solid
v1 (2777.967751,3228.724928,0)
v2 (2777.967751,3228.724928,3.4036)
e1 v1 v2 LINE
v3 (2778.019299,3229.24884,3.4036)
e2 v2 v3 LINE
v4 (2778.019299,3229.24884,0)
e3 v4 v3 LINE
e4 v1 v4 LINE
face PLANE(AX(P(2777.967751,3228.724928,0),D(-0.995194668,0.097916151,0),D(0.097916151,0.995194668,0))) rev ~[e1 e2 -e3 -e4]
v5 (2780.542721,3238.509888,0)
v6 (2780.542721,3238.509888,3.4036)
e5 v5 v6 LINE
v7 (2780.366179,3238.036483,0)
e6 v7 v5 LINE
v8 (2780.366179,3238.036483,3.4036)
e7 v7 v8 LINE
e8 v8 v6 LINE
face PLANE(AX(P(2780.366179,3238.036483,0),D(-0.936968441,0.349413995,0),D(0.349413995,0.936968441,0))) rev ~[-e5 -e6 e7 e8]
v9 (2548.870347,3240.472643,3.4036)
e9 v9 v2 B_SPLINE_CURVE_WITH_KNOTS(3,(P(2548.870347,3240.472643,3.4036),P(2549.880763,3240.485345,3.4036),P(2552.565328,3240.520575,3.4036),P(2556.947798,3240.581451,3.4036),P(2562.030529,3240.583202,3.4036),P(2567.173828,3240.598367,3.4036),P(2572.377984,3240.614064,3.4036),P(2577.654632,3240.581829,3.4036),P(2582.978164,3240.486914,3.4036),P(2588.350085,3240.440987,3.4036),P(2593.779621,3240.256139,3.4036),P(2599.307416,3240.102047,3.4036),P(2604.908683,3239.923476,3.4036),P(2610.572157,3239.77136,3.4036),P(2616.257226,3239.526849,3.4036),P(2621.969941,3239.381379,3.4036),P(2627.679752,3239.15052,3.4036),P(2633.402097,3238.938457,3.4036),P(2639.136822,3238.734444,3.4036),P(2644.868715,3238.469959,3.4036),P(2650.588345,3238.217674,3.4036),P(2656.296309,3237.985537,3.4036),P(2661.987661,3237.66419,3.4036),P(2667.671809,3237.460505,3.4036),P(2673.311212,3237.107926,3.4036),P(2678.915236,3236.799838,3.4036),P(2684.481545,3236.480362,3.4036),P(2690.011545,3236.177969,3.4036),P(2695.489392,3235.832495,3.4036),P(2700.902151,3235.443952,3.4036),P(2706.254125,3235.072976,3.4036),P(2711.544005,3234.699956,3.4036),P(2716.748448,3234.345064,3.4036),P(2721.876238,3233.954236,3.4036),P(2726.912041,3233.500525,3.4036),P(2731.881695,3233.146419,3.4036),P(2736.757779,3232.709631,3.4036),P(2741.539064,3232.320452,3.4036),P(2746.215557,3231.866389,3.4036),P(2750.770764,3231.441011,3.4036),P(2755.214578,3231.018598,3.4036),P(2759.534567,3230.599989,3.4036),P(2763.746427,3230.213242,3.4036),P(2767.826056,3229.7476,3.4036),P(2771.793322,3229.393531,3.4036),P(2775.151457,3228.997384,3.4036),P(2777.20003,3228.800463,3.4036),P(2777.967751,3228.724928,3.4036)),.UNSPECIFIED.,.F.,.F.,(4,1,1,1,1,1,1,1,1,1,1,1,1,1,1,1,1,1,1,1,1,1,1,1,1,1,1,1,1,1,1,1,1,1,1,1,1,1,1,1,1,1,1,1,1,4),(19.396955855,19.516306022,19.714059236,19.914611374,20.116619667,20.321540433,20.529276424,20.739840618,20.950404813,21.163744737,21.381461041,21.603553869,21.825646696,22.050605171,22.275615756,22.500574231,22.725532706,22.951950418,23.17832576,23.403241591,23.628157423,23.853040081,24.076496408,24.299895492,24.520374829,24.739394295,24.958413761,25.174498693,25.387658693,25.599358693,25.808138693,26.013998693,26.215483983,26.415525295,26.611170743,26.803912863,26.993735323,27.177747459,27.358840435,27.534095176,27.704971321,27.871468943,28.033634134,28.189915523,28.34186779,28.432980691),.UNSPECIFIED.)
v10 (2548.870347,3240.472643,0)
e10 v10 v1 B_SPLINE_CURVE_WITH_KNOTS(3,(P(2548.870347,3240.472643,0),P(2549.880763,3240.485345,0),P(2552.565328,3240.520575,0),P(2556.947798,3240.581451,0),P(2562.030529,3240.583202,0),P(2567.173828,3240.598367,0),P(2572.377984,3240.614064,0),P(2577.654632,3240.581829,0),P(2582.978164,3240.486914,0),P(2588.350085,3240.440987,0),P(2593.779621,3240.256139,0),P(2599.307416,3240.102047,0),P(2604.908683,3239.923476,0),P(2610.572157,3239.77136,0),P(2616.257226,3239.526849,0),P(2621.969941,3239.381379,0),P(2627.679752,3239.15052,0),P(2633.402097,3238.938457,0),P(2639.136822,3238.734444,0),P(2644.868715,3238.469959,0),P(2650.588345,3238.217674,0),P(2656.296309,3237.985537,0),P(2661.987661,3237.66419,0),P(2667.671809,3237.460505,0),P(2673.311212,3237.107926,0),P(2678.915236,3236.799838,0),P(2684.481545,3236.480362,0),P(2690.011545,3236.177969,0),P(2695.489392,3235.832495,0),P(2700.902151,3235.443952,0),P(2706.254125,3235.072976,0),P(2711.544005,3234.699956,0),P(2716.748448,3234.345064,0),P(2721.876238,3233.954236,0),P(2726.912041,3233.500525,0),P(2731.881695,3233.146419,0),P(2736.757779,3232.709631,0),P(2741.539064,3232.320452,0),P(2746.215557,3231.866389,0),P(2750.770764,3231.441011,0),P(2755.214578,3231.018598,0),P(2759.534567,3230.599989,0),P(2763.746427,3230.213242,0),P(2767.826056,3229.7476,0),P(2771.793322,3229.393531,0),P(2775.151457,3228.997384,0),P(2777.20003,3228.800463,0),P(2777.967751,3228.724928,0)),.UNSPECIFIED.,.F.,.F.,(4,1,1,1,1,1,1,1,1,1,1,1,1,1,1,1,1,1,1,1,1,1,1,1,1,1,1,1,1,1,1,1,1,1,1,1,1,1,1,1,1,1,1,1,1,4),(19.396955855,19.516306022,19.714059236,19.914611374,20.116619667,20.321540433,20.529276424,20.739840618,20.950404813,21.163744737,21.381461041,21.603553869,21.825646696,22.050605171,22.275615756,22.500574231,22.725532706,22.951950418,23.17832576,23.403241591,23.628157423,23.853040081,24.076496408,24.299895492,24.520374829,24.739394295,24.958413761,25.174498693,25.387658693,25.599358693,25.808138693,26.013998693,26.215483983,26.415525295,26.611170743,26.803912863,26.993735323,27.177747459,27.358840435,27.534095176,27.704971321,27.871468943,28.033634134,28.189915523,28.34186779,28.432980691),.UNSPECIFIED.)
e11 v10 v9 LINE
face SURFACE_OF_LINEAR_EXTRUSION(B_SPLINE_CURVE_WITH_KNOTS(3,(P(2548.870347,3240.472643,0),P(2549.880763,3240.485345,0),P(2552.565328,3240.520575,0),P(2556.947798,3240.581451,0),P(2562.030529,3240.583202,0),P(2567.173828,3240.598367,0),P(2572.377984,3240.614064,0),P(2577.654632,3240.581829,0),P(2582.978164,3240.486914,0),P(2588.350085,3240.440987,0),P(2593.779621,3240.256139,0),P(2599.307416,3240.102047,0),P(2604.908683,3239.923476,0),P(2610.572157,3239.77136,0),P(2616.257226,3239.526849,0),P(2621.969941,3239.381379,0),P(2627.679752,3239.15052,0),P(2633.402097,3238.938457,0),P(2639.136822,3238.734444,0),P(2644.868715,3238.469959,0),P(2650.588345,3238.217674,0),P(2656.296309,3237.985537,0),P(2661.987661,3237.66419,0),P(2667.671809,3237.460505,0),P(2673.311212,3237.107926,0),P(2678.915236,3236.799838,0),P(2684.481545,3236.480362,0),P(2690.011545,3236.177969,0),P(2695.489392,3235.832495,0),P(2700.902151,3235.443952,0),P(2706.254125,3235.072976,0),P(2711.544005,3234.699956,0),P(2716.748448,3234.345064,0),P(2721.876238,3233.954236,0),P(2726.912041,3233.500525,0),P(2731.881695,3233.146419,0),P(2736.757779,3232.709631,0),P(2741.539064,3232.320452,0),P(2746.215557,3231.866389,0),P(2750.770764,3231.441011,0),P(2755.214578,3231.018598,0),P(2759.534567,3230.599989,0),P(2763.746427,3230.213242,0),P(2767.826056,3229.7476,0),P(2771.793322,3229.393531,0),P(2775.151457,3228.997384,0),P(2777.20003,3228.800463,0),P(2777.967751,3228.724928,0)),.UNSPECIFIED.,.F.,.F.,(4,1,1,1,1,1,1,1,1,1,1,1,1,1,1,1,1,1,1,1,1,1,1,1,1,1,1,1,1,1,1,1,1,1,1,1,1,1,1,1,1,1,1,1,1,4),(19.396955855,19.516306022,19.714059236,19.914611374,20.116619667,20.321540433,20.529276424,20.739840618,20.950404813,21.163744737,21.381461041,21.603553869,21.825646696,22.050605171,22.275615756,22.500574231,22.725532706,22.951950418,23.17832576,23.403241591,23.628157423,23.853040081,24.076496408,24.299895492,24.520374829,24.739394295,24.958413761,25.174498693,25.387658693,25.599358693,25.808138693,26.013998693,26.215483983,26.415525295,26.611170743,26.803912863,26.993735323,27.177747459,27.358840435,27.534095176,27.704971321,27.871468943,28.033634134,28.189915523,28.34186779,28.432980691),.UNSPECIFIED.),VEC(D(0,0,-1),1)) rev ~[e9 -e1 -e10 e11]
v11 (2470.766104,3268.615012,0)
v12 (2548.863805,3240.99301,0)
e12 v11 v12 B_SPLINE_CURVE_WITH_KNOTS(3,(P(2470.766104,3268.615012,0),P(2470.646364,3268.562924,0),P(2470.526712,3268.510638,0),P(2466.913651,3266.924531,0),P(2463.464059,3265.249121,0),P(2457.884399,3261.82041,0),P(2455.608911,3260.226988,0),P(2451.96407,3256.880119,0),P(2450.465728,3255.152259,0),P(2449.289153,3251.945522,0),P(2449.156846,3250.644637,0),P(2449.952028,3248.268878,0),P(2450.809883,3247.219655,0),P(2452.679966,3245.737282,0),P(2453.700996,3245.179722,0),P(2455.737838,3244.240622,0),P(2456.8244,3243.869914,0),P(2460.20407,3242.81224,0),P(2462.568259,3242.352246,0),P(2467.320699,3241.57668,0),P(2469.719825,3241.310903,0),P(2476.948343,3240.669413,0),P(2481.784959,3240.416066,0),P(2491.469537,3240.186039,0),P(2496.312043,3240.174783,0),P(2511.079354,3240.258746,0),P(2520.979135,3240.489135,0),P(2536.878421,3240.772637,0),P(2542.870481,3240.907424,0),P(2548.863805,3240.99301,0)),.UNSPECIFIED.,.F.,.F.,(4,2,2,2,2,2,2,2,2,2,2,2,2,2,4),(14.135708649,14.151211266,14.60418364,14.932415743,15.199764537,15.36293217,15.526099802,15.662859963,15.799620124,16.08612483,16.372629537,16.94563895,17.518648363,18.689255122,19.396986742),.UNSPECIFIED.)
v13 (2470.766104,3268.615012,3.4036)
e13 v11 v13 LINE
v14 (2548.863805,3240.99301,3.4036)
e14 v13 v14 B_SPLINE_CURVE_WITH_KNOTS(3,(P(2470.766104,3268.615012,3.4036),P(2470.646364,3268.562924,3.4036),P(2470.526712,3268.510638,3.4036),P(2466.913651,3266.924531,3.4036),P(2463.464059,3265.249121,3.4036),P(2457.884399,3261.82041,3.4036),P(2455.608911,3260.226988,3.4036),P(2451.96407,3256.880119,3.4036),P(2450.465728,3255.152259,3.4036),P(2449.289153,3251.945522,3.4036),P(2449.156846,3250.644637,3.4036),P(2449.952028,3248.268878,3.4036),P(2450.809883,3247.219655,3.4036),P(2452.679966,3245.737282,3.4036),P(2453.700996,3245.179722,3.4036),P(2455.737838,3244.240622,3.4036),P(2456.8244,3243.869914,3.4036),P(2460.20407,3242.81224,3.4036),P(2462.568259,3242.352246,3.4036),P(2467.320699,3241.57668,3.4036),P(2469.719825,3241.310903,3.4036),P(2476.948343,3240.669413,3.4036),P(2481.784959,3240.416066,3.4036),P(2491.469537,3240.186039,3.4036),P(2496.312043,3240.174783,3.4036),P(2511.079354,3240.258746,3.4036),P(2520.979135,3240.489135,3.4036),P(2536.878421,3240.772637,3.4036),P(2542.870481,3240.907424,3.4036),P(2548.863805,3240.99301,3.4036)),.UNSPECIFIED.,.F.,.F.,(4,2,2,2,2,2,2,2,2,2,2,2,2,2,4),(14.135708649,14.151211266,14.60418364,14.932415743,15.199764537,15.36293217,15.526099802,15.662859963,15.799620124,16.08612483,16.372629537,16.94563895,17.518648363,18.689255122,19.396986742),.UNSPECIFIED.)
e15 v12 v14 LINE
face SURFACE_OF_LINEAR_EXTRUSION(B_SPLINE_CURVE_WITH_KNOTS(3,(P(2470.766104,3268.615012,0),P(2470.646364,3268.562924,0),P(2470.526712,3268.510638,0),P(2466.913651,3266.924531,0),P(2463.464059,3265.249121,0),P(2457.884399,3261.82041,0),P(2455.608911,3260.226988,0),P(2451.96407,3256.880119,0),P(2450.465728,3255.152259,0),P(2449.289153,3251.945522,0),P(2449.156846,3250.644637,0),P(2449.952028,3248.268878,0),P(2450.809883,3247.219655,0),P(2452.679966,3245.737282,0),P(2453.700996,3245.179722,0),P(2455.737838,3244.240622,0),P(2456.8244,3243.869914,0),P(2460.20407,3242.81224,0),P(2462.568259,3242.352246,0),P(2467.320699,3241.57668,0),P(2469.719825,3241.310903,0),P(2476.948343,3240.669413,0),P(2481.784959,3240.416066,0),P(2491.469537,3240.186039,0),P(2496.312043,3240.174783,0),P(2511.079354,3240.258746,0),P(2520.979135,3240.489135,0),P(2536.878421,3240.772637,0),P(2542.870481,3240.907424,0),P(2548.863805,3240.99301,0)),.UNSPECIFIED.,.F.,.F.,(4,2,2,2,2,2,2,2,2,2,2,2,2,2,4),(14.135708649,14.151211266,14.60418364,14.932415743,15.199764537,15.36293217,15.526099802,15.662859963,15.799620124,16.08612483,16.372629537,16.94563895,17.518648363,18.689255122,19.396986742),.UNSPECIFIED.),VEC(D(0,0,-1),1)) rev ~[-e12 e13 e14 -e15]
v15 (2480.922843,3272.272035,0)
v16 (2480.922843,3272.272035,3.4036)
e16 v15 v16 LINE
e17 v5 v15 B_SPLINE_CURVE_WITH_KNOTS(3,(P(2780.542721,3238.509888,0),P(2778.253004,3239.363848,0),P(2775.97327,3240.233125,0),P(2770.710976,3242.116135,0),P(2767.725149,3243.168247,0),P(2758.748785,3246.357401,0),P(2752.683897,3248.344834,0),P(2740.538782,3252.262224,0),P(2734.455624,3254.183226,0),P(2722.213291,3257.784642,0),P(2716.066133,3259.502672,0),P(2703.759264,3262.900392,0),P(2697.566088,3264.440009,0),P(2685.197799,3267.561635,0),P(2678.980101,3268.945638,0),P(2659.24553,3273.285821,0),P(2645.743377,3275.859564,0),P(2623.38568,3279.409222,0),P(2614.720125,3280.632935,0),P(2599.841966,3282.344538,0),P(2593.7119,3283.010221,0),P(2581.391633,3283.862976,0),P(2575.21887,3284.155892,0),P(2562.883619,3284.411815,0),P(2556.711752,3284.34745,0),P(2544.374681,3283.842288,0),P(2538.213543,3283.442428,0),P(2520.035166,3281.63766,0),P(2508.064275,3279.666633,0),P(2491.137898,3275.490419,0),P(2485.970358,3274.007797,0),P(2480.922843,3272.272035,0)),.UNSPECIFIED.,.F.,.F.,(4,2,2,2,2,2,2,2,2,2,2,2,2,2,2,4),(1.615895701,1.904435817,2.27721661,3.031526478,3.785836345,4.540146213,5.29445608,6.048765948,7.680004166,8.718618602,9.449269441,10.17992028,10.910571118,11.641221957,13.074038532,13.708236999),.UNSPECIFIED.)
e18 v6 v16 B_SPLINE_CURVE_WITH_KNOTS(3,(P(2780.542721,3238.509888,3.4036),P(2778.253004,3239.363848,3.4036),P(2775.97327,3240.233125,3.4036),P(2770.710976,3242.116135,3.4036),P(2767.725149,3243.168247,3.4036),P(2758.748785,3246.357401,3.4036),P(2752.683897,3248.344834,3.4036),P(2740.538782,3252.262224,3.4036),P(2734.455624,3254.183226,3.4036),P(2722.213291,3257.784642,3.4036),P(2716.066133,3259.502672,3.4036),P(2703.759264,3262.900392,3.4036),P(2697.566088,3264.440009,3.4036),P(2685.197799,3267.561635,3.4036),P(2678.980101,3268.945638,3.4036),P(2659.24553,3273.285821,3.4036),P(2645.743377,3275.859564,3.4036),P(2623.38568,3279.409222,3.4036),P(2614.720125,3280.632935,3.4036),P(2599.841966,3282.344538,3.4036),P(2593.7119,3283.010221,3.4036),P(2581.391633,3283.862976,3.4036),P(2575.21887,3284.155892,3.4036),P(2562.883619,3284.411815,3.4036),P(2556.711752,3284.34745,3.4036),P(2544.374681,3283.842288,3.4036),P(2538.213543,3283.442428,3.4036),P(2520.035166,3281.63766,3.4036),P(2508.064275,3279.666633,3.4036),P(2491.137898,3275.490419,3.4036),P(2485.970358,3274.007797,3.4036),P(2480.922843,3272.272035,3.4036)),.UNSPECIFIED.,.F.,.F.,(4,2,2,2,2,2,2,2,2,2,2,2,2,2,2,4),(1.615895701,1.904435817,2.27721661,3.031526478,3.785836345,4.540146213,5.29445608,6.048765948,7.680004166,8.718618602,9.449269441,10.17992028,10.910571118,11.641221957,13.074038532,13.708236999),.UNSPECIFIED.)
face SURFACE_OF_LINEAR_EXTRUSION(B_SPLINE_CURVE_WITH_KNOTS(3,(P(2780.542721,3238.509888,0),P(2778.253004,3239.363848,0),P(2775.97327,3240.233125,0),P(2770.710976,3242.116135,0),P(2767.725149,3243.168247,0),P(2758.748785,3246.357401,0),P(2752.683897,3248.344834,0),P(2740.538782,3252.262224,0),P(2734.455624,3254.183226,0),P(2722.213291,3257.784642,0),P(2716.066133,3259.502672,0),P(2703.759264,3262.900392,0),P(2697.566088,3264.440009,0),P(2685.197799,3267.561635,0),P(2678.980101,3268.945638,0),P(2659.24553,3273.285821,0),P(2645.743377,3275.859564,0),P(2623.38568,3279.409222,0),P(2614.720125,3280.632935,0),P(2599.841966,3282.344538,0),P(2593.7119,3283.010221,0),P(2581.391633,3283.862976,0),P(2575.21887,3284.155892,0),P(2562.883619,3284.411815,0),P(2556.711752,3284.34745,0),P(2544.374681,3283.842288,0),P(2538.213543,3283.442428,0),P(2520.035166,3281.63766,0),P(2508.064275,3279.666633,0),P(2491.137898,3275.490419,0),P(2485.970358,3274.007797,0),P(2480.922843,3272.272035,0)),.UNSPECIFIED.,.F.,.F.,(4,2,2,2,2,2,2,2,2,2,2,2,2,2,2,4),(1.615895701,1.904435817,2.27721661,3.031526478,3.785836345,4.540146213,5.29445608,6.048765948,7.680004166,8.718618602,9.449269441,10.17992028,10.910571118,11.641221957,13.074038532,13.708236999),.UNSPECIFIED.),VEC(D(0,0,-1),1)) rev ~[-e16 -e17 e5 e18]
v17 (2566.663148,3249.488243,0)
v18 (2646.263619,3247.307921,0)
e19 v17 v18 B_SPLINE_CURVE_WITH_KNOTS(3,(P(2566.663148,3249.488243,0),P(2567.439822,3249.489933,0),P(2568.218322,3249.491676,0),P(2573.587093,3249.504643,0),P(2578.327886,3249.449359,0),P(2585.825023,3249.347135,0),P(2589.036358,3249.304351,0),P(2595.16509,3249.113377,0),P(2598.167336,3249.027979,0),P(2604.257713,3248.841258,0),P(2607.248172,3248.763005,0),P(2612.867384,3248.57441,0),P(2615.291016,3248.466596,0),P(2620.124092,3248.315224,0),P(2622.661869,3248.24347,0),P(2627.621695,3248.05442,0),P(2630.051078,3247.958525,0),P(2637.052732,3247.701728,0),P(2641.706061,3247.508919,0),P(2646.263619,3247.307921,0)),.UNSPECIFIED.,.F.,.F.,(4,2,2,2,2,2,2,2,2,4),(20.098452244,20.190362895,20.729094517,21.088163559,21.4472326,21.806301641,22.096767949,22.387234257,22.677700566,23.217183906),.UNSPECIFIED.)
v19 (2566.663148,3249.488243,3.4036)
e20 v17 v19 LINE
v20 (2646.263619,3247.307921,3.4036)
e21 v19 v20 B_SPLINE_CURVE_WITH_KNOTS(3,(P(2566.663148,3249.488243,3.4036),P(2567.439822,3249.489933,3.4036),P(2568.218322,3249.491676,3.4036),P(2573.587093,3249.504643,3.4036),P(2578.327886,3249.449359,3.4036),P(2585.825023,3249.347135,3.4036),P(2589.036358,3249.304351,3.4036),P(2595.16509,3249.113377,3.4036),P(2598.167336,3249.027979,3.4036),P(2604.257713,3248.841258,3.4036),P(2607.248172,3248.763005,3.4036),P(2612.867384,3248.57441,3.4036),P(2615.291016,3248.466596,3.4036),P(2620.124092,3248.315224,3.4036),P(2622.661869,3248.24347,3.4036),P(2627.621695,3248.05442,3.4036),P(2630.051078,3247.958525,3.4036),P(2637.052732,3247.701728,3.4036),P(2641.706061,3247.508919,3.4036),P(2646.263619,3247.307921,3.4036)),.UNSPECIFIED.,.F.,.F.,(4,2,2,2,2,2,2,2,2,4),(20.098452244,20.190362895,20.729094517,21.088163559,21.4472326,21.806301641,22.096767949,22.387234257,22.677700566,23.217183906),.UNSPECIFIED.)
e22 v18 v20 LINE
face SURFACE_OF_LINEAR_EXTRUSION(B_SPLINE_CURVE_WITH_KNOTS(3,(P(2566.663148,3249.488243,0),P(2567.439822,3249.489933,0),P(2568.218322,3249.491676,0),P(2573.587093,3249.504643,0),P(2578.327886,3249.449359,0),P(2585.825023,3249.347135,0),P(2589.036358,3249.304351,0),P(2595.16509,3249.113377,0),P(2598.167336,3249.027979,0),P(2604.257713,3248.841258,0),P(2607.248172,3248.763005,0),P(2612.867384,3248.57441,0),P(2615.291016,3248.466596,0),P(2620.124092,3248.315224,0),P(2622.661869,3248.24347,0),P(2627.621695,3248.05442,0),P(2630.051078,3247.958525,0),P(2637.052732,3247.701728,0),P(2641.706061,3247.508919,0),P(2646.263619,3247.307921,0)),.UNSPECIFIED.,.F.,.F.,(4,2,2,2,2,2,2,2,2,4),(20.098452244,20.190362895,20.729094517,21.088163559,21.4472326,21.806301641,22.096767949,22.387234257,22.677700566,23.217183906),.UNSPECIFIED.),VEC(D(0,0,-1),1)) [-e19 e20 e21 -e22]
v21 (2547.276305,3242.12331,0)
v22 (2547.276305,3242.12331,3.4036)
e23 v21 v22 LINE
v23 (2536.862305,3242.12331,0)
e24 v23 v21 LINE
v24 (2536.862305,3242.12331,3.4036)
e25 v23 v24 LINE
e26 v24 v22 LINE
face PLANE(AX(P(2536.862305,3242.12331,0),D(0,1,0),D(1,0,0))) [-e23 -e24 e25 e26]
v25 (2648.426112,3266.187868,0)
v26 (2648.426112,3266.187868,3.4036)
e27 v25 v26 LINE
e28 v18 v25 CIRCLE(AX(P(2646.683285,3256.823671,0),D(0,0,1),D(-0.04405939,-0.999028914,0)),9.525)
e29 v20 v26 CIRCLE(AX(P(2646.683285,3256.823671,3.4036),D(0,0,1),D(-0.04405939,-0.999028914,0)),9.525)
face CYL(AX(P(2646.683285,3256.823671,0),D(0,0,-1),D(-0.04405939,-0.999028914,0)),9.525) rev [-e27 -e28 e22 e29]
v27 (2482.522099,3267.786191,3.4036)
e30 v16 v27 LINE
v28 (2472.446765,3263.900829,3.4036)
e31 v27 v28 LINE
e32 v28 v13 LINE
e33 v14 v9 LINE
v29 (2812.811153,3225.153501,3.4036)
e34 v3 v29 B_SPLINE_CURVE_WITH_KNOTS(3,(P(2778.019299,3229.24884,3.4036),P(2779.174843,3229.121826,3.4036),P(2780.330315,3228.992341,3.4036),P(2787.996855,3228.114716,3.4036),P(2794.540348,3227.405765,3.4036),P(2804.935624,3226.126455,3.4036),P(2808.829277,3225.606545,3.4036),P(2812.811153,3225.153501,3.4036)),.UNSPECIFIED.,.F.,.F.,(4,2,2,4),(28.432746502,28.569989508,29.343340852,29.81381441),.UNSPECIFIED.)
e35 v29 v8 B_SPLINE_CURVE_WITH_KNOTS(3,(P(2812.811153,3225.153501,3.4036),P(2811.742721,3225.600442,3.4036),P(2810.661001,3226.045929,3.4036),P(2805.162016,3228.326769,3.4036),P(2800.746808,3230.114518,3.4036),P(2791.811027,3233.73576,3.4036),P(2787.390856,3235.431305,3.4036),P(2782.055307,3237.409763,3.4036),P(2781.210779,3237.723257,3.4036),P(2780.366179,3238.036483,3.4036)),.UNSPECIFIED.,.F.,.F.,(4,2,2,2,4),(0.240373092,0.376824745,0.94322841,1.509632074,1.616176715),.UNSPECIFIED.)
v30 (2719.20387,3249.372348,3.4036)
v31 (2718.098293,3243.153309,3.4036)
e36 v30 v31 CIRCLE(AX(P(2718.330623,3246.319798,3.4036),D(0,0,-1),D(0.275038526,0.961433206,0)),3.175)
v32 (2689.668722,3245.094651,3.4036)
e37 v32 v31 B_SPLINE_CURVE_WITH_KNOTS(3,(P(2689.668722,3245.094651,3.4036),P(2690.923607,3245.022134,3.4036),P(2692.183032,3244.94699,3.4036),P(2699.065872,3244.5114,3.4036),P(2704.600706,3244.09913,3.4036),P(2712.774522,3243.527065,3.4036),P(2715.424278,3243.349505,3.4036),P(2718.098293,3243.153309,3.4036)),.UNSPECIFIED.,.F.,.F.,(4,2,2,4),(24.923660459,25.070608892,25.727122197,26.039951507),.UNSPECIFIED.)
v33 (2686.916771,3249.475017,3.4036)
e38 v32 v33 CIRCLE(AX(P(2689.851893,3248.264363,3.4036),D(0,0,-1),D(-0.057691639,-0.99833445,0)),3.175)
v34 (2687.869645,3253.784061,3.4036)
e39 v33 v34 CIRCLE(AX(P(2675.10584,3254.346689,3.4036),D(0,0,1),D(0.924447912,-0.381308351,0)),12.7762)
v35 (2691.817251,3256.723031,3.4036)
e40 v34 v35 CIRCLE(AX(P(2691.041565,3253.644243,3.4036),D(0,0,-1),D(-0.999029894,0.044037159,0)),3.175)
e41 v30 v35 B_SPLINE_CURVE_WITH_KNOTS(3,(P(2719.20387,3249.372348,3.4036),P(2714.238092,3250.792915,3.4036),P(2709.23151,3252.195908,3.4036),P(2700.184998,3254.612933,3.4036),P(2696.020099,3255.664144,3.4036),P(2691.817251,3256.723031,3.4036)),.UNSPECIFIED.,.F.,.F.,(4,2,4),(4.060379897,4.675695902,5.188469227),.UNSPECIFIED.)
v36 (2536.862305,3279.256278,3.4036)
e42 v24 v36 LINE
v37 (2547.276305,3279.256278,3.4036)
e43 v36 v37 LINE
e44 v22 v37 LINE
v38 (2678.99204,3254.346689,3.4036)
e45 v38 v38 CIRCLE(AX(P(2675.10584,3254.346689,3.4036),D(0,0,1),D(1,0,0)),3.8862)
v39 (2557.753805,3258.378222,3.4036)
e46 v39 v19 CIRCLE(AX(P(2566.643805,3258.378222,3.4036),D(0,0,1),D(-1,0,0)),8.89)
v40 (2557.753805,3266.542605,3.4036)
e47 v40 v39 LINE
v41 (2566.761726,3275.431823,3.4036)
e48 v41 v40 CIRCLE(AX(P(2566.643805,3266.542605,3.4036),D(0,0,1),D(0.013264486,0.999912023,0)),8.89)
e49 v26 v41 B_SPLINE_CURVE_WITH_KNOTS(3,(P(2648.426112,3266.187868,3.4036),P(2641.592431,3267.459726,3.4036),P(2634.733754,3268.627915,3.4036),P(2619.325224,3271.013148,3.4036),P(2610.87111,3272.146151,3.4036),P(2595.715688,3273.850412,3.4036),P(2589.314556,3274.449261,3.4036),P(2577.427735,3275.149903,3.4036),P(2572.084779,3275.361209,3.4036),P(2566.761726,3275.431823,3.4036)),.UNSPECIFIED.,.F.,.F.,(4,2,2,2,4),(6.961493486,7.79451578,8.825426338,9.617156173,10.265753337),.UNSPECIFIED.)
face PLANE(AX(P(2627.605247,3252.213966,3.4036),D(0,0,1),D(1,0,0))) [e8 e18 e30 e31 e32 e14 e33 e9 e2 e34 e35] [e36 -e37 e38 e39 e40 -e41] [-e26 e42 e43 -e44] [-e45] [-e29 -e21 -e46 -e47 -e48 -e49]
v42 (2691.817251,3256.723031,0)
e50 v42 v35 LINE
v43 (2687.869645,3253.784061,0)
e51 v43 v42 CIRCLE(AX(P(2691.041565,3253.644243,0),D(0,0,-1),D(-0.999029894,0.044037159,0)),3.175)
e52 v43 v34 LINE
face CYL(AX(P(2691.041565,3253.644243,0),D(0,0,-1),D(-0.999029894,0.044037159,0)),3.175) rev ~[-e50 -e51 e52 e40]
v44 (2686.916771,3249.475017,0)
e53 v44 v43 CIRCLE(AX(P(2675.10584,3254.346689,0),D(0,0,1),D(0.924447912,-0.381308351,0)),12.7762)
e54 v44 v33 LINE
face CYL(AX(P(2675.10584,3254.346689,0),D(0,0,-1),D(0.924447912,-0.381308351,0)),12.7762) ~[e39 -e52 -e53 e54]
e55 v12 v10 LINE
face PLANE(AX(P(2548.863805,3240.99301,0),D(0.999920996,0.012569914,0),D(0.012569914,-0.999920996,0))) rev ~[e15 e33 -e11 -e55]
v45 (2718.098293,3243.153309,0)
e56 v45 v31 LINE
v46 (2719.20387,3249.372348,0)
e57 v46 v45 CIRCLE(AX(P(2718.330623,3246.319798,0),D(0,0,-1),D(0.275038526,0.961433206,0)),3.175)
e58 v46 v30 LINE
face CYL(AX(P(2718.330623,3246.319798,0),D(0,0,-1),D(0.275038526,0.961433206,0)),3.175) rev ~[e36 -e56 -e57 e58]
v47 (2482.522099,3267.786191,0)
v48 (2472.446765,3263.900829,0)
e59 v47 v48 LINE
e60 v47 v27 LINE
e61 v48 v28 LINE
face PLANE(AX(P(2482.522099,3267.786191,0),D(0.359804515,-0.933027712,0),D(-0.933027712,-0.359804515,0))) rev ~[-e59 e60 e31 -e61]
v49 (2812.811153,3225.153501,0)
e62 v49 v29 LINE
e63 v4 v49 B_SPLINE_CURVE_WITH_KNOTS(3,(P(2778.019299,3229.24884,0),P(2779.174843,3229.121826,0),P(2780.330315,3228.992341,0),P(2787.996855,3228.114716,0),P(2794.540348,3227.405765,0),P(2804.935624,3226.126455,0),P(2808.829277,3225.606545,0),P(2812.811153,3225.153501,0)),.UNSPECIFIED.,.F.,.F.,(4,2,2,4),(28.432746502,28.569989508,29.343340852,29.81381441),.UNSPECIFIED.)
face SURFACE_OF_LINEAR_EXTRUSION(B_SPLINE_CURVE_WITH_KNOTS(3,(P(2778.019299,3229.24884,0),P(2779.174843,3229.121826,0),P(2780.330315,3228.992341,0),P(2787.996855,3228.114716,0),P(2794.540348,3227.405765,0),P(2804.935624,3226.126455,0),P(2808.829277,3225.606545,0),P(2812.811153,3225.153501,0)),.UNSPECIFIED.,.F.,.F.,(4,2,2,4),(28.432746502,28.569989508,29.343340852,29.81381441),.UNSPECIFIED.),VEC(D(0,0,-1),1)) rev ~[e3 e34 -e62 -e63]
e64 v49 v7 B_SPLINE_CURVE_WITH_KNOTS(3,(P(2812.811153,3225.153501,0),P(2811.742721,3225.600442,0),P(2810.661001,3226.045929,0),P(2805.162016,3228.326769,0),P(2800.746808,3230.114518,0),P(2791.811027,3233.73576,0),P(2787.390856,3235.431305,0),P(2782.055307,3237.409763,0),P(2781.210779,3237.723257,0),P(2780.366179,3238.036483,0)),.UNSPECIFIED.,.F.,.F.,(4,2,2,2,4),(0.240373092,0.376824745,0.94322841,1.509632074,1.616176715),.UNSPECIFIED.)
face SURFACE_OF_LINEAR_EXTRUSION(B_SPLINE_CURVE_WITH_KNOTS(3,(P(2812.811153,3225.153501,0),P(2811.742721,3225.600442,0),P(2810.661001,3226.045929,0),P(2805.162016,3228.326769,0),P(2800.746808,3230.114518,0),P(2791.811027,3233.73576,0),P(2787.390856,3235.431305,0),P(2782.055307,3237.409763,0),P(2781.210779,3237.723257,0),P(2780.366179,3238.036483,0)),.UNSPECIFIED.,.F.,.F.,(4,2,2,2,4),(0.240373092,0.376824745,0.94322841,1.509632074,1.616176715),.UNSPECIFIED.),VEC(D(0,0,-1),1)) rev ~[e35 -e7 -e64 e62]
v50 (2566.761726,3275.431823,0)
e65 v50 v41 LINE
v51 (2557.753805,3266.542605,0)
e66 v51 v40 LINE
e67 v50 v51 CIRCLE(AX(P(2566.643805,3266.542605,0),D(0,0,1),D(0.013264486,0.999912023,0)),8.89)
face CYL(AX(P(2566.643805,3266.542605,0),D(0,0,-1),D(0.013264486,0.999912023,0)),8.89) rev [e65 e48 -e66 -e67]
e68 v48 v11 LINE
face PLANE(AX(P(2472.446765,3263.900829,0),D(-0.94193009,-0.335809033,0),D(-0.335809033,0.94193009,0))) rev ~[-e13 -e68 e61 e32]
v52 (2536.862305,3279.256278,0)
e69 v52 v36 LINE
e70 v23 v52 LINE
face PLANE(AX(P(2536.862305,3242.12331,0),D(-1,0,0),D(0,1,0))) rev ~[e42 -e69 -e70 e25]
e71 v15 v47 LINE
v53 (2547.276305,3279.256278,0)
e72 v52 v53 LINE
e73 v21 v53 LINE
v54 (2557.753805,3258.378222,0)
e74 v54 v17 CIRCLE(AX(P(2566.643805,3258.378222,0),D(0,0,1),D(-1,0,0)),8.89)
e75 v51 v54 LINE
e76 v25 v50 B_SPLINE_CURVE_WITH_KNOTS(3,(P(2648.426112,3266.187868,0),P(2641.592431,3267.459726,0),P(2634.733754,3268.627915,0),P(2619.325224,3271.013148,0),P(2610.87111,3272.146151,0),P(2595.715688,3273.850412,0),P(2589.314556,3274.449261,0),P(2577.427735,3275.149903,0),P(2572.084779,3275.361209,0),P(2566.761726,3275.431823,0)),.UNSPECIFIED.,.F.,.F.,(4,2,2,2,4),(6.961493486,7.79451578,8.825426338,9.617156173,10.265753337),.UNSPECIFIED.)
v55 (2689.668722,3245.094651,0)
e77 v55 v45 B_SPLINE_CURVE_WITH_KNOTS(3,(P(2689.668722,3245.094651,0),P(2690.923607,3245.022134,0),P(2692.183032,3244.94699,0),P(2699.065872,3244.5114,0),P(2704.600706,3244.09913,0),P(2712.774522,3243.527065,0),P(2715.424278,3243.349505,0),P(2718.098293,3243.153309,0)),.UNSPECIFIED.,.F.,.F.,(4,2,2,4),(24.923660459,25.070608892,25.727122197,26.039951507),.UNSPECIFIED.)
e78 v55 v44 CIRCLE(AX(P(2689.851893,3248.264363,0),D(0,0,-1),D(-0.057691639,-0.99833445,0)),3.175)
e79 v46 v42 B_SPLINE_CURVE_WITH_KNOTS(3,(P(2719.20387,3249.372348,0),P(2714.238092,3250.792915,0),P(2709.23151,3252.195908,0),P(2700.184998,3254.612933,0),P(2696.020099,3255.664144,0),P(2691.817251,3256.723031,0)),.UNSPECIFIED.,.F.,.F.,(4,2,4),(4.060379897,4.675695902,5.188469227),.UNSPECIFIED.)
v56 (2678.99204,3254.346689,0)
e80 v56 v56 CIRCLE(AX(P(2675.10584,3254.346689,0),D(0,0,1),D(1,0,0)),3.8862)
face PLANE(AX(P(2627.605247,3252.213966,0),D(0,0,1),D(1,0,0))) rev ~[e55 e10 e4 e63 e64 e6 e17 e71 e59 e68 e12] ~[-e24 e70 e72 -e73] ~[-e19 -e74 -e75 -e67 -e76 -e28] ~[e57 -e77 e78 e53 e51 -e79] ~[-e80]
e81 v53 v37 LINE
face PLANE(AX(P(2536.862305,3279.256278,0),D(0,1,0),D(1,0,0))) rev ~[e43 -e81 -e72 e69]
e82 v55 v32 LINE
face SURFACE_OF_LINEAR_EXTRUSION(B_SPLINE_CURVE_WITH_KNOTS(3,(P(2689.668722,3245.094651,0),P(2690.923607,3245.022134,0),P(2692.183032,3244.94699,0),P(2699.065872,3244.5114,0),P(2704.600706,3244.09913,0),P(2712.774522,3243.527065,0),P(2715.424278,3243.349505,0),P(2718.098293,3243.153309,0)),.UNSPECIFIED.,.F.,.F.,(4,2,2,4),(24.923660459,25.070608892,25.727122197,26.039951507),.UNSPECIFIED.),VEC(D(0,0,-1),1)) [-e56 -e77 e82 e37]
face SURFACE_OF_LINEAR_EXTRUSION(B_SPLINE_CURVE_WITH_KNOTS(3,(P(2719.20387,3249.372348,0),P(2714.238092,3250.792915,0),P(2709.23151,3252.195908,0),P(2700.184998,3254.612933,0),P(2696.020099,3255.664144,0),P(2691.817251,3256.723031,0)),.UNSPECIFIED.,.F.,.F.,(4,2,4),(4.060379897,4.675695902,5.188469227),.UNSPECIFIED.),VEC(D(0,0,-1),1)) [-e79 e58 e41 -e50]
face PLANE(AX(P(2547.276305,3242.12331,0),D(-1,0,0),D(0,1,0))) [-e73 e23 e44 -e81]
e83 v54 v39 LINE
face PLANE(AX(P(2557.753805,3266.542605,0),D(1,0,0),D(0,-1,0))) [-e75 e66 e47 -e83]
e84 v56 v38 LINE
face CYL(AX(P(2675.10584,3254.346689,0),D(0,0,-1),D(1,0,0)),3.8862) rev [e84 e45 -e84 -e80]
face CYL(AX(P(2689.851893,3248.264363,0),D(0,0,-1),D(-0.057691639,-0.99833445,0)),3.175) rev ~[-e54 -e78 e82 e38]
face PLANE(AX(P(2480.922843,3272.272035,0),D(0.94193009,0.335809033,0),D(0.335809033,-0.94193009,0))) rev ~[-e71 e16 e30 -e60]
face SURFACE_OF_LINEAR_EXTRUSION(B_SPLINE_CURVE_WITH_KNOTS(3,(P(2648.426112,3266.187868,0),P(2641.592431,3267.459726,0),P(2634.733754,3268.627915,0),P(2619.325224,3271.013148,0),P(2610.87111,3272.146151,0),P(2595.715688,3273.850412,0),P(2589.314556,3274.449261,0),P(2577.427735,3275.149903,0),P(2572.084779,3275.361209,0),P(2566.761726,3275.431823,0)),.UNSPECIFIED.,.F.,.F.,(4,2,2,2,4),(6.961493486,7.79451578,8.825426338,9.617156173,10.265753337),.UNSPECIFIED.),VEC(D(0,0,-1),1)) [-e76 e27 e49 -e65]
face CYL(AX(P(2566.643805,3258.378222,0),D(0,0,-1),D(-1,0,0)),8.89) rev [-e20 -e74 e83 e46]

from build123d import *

# Parameters (mm, degrees)
SKETCH1_R           = 3.8862
SKETCH1_W           = 10.414
SKETCH1_H           = 37.132967143
BOSS_EXTRUDE1_DEPTH = 3.4036


with BuildPart() as part:
    # Sketch1 → Boss-Extrude1 (new body)
    with BuildSketch(Plane.XY):
        with BuildLine():
            Line((2548.863805049, 3240.993010404), (2548.870346536, 3240.472643256))
            add(Edge.make_bspline(
                [(2548.870346536, 3240.472643256), (2549.880763048, 3240.485345106), (2552.565327641, 3240.520575205), (2556.947797606, 3240.581451281), (2562.030529235, 3240.583201978), (2567.173828356, 3240.598367485), (2572.377983544, 3240.614063866), (2577.654631688, 3240.581828802), (2582.978163683, 3240.486914125), (2588.350084988, 3240.44098722), (2593.779620592, 3240.256138586), (2599.307416132, 3240.102047018), (2604.908682597, 3239.92347645), (2610.572157053, 3239.771360292), (2616.257225785, 3239.526848933), (2621.969941233, 3239.381379235), (2627.679751972, 3239.150520279), (2633.40209681, 3238.938457036), (2639.136822152, 3238.734443989), (2644.868715349, 3238.4699587), (2650.588345306, 3238.217674209), (2656.296308508, 3237.985536992), (2661.987661359, 3237.664189993), (2667.671808974, 3237.460504991), (2673.311212153, 3237.107925722), (2678.915236244, 3236.799838101), (2684.481545426, 3236.480361793), (2690.011544993, 3236.177968608), (2695.489391996, 3235.832495133), (2700.902150582, 3235.443952361), (2706.254125464, 3235.072976456), (2711.544005033, 3234.699956373), (2716.748448208, 3234.345063592), (2721.876237554, 3233.954236472), (2726.912041029, 3233.50052453), (2731.881695192, 3233.146418869), (2736.757779223, 3232.709631215), (2741.539063821, 3232.320452483), (2746.215557291, 3231.866388618), (2750.770763986, 3231.44101053), (2755.214578157, 3231.018598468), (2759.534567055, 3230.599989202), (2763.74642736, 3230.213242009), (2767.826055945, 3229.747599527), (2771.793322217, 3229.393530966), (2775.151456937, 3228.997383641), (2777.200029602, 3228.800463034), (2777.967751396, 3228.724927698)],
                knots=[19.396955855, 19.396955855, 19.396955855, 19.396955855, 19.516306022, 19.714059236, 19.914611374, 20.116619667, 20.321540433, 20.529276424, 20.739840618, 20.950404813, 21.163744737, 21.381461041, 21.603553869, 21.825646696, 22.050605171, 22.275615756, 22.500574231, 22.725532706, 22.951950418, 23.17832576, 23.403241591, 23.628157423, 23.853040081, 24.076496408, 24.299895492, 24.520374829, 24.739394295, 24.958413761, 25.174498693, 25.387658693, 25.599358693, 25.808138693, 26.013998693, 26.215483983, 26.415525295, 26.611170743, 26.803912863, 26.993735323, 27.177747459, 27.358840435, 27.534095176, 27.704971321, 27.871468943, 28.033634134, 28.189915523, 28.34186779, 28.432980691, 28.432980691, 28.432980691, 28.432980691], degree=3))
            Line((2777.967751396, 3228.724927698), (2778.019298543, 3229.248839689))
            add(Edge.make_bspline(
                [(2778.019298543, 3229.248839689), (2779.174843082, 3229.121826377), (2780.33031454, 3228.992340847), (2787.996855373, 3228.114715942), (2794.540348084, 3227.405765423), (2804.935623835, 3226.12645458), (2808.829276968, 3225.606545428), (2812.811153408, 3225.153500574)],
                knots=[28.432746502, 28.432746502, 28.432746502, 28.432746502, 28.569989508, 28.569989508, 29.343340852, 29.343340852, 29.81381441, 29.81381441, 29.81381441, 29.81381441], degree=3))
            add(Edge.make_bspline(
                [(2812.811153408, 3225.153500574), (2811.742721472, 3225.600441661), (2810.661000778, 3226.045928682), (2805.162016263, 3228.326768826), (2800.746808293, 3230.114518373), (2791.811027497, 3233.735759932), (2787.390855916, 3235.431304752), (2782.055306735, 3237.40976252), (2781.210779035, 3237.723256876), (2780.366179259, 3238.036483025)],
                knots=[0.240373092, 0.240373092, 0.240373092, 0.240373092, 0.376824745, 0.376824745, 0.94322841, 0.94322841, 1.509632074, 1.509632074, 1.616176715, 1.616176715, 1.616176715, 1.616176715], degree=3))
            Line((2780.366179259, 3238.036483025), (2780.542721306, 3238.509888009))
            add(Edge.make_bspline(
                [(2780.542721306, 3238.509888009), (2778.253003884, 3239.363847847), (2775.973270324, 3240.233125264), (2770.710976163, 3242.116135153), (2767.725148574, 3243.168246958), (2758.74878465, 3246.357401003), (2752.683897055, 3248.34483437), (2740.538782356, 3252.26222396), (2734.455623746, 3254.183226005), (2722.213291435, 3257.784641629), (2716.066133272, 3259.502671593), (2703.759263569, 3262.900392104), (2697.566087725, 3264.440009256), (2685.19779855, 3267.561634631), (2678.980101102, 3268.945637972), (2659.245529682, 3273.285820582), (2645.743376571, 3275.859564386), (2623.385680039, 3279.409222482), (2614.720124909, 3280.632934833), (2599.841966162, 3282.344537953), (2593.711900163, 3283.010221418), (2581.391632578, 3283.862976016), (2575.218869863, 3284.155891606), (2562.883619003, 3284.411814807), (2556.711751775, 3284.347450173), (2544.374681135, 3283.842287953), (2538.21354259, 3283.442427522), (2520.035165735, 3281.637660206), (2508.06427485, 3279.666633378), (2491.137898093, 3275.490419372), (2485.970358448, 3274.007797482), (2480.922843339, 3272.272034669)],
                knots=[1.615895701, 1.615895701, 1.615895701, 1.615895701, 1.904435817, 1.904435817, 2.27721661, 2.27721661, 3.031526478, 3.031526478, 3.785836345, 3.785836345, 4.540146213, 4.540146213, 5.29445608, 5.29445608, 6.048765948, 6.048765948, 7.680004166, 7.680004166, 8.718618602, 8.718618602, 9.449269441, 9.449269441, 10.17992028, 10.17992028, 10.910571118, 10.910571118, 11.641221957, 11.641221957, 13.074038532, 13.074038532, 13.708236999, 13.708236999, 13.708236999, 13.708236999], degree=3))
            Line((2480.922843339, 3272.272034669), (2482.522098625, 3267.78619144))
            Line((2482.522098625, 3267.78619144), (2472.446764627, 3263.900829171))
            Line((2472.446764627, 3263.900829171), (2470.766103702, 3268.615011763))
            add(Edge.make_bspline(
                [(2470.766103702, 3268.615011763), (2470.646363815, 3268.56292409), (2470.526712246, 3268.51063758), (2466.913650609, 3266.924530991), (2463.464058775, 3265.249121491), (2457.884399007, 3261.820409967), (2455.608911301, 3260.226987761), (2451.964070041, 3256.880119191), (2450.465728267, 3255.152258506), (2449.289153427, 3251.945522424), (2449.156845546, 3250.644636858), (2449.952027869, 3248.268878143), (2450.809883366, 3247.219654857), (2452.679965619, 3245.737281603), (2453.700996299, 3245.179722468), (2455.737837909, 3244.240621936), (2456.824400221, 3243.869914012), (2460.204069688, 3242.812239937), (2462.568258916, 3242.352246254), (2467.320698583, 3241.576679675), (2469.719825171, 3241.310902849), (2476.948343474, 3240.669412937), (2481.784959026, 3240.416065704), (2491.469537197, 3240.186039458), (2496.312043463, 3240.174782839), (2511.07935418, 3240.258746364), (2520.979134882, 3240.489134622), (2536.878421223, 3240.772637321), (2542.870480868, 3240.90742401), (2548.863805049, 3240.993010404)],
                knots=[14.135708649, 14.135708649, 14.135708649, 14.135708649, 14.151211266, 14.151211266, 14.60418364, 14.60418364, 14.932415743, 14.932415743, 15.199764537, 15.199764537, 15.36293217, 15.36293217, 15.526099802, 15.526099802, 15.662859963, 15.662859963, 15.799620124, 15.799620124, 16.08612483, 16.08612483, 16.372629537, 16.372629537, 16.94563895, 16.94563895, 17.518648363, 17.518648363, 18.689255122, 18.689255122, 19.396986742, 19.396986742, 19.396986742, 19.396986742], degree=3))
        make_face()
        with Locations((2675.105839614, 3254.346688729)):
            Circle(SKETCH1_R, mode=Mode.SUBTRACT)
        with Locations((2542.069305049, 3260.689793975)):
            Rectangle(SKETCH1_W, SKETCH1_H, mode=Mode.SUBTRACT)
        with BuildLine():
            Line((2557.75380505, 3266.542605367), (2557.753805049, 3258.378222418))
            ThreePointArc((2557.753805049, 3258.378222418), (2560.364468394, 3252.085207944), (2566.663148395, 3249.488243462))
            add(Edge.make_bspline(
                [(2566.663148395, 3249.488243462), (2567.439822141, 3249.489933395), (2568.21832178, 3249.491675794), (2573.587092614, 3249.504643302), (2578.32788588, 3249.449359207), (2585.825022944, 3249.347135077), (2589.036358319, 3249.304351405), (2595.165089719, 3249.113376562), (2598.167336091, 3249.027978689), (2604.257712531, 3248.841258324), (2607.248172017, 3248.763004856), (2612.867384093, 3248.574409602), (2615.291016485, 3248.466595568), (2620.124092488, 3248.315224279), (2622.661869101, 3248.243470439), (2627.621694753, 3248.054419578), (2630.051078266, 3247.958524901), (2637.052732353, 3247.701728241), (2641.706061455, 3247.508919449), (2646.263618968, 3247.307921056)],
                knots=[20.098452244, 20.098452244, 20.098452244, 20.098452244, 20.190362895, 20.190362895, 20.729094517, 20.729094517, 21.088163559, 21.088163559, 21.4472326, 21.4472326, 21.806301641, 21.806301641, 22.096767949, 22.096767949, 22.387234257, 22.387234257, 22.677700566, 22.677700566, 23.217183906, 23.217183906, 23.217183906, 23.217183906], degree=3))
            ThreePointArc((2646.263618968, 3247.307921056), (2656.146412526, 3255.739772924), (2648.426111877, 3266.187868076))
            add(Edge.make_bspline(
                [(2648.426111877, 3266.187868076), (2641.59243129, 3267.459725662), (2634.73375431, 3268.627915199), (2619.325224165, 3271.013148027), (2610.871110121, 3272.14615054), (2595.715687801, 3273.850412361), (2589.314555675, 3274.449261453), (2577.427735136, 3275.149902784), (2572.084779046, 3275.36120948), (2566.761726328, 3275.431823249)],
                knots=[6.961493486, 6.961493486, 6.961493486, 6.961493486, 7.79451578, 7.79451578, 8.825426338, 8.825426338, 9.617156173, 9.617156173, 10.265753337, 10.265753337, 10.265753337, 10.265753337], degree=3))
            ThreePointArc((2566.761726328, 3275.431823249), (2560.399456411, 3272.870338775), (2557.75380505, 3266.542605367))
        make_face(mode=Mode.SUBTRACT)
        with BuildLine():
            ThreePointArc((2686.916771023, 3249.475016973), (2687.580669946, 3251.588084984), (2687.869645343, 3253.784061172))
            ThreePointArc((2687.869645343, 3253.784061172), (2689.145550797, 3256.190957579), (2691.817251109, 3256.723031338))
            add(Edge.make_bspline(
                [(2719.203869949, 3249.372348083), (2714.238092072, 3250.792915022), (2709.231509514, 3252.195908246), (2700.184998092, 3254.612933038), (2696.020099344, 3255.664143956), (2691.817251109, 3256.723031338)],
                knots=[4.060379897, 4.060379897, 4.060379897, 4.060379897, 4.675695902, 4.675695902, 5.188469227, 5.188469227, 5.188469227, 5.188469227], degree=3))
            ThreePointArc((2719.203869949, 3249.372348083), (2721.456611216, 3245.76408158), (2718.098293363, 3243.153309361))
            add(Edge.make_bspline(
                [(2689.668722188, 3245.094651078), (2690.923606701, 3245.022133953), (2692.18303199, 3244.946990467), (2699.065872366, 3244.511400077), (2704.600706314, 3244.09912997), (2712.774522449, 3243.527064843), (2715.42427843, 3243.349505233), (2718.098293363, 3243.153309361)],
                knots=[24.923660459, 24.923660459, 24.923660459, 24.923660459, 25.070608892, 25.070608892, 25.727122197, 25.727122197, 26.039951507, 26.039951507, 26.039951507, 26.039951507], degree=3))
            ThreePointArc((2689.668722188, 3245.094651078), (2687.163429033, 3246.575343795), (2686.916771023, 3249.475016973))
        make_face(mode=Mode.SUBTRACT)
    extrude(amount=BOSS_EXTRUDE1_DEPTH)


solid = part.part
